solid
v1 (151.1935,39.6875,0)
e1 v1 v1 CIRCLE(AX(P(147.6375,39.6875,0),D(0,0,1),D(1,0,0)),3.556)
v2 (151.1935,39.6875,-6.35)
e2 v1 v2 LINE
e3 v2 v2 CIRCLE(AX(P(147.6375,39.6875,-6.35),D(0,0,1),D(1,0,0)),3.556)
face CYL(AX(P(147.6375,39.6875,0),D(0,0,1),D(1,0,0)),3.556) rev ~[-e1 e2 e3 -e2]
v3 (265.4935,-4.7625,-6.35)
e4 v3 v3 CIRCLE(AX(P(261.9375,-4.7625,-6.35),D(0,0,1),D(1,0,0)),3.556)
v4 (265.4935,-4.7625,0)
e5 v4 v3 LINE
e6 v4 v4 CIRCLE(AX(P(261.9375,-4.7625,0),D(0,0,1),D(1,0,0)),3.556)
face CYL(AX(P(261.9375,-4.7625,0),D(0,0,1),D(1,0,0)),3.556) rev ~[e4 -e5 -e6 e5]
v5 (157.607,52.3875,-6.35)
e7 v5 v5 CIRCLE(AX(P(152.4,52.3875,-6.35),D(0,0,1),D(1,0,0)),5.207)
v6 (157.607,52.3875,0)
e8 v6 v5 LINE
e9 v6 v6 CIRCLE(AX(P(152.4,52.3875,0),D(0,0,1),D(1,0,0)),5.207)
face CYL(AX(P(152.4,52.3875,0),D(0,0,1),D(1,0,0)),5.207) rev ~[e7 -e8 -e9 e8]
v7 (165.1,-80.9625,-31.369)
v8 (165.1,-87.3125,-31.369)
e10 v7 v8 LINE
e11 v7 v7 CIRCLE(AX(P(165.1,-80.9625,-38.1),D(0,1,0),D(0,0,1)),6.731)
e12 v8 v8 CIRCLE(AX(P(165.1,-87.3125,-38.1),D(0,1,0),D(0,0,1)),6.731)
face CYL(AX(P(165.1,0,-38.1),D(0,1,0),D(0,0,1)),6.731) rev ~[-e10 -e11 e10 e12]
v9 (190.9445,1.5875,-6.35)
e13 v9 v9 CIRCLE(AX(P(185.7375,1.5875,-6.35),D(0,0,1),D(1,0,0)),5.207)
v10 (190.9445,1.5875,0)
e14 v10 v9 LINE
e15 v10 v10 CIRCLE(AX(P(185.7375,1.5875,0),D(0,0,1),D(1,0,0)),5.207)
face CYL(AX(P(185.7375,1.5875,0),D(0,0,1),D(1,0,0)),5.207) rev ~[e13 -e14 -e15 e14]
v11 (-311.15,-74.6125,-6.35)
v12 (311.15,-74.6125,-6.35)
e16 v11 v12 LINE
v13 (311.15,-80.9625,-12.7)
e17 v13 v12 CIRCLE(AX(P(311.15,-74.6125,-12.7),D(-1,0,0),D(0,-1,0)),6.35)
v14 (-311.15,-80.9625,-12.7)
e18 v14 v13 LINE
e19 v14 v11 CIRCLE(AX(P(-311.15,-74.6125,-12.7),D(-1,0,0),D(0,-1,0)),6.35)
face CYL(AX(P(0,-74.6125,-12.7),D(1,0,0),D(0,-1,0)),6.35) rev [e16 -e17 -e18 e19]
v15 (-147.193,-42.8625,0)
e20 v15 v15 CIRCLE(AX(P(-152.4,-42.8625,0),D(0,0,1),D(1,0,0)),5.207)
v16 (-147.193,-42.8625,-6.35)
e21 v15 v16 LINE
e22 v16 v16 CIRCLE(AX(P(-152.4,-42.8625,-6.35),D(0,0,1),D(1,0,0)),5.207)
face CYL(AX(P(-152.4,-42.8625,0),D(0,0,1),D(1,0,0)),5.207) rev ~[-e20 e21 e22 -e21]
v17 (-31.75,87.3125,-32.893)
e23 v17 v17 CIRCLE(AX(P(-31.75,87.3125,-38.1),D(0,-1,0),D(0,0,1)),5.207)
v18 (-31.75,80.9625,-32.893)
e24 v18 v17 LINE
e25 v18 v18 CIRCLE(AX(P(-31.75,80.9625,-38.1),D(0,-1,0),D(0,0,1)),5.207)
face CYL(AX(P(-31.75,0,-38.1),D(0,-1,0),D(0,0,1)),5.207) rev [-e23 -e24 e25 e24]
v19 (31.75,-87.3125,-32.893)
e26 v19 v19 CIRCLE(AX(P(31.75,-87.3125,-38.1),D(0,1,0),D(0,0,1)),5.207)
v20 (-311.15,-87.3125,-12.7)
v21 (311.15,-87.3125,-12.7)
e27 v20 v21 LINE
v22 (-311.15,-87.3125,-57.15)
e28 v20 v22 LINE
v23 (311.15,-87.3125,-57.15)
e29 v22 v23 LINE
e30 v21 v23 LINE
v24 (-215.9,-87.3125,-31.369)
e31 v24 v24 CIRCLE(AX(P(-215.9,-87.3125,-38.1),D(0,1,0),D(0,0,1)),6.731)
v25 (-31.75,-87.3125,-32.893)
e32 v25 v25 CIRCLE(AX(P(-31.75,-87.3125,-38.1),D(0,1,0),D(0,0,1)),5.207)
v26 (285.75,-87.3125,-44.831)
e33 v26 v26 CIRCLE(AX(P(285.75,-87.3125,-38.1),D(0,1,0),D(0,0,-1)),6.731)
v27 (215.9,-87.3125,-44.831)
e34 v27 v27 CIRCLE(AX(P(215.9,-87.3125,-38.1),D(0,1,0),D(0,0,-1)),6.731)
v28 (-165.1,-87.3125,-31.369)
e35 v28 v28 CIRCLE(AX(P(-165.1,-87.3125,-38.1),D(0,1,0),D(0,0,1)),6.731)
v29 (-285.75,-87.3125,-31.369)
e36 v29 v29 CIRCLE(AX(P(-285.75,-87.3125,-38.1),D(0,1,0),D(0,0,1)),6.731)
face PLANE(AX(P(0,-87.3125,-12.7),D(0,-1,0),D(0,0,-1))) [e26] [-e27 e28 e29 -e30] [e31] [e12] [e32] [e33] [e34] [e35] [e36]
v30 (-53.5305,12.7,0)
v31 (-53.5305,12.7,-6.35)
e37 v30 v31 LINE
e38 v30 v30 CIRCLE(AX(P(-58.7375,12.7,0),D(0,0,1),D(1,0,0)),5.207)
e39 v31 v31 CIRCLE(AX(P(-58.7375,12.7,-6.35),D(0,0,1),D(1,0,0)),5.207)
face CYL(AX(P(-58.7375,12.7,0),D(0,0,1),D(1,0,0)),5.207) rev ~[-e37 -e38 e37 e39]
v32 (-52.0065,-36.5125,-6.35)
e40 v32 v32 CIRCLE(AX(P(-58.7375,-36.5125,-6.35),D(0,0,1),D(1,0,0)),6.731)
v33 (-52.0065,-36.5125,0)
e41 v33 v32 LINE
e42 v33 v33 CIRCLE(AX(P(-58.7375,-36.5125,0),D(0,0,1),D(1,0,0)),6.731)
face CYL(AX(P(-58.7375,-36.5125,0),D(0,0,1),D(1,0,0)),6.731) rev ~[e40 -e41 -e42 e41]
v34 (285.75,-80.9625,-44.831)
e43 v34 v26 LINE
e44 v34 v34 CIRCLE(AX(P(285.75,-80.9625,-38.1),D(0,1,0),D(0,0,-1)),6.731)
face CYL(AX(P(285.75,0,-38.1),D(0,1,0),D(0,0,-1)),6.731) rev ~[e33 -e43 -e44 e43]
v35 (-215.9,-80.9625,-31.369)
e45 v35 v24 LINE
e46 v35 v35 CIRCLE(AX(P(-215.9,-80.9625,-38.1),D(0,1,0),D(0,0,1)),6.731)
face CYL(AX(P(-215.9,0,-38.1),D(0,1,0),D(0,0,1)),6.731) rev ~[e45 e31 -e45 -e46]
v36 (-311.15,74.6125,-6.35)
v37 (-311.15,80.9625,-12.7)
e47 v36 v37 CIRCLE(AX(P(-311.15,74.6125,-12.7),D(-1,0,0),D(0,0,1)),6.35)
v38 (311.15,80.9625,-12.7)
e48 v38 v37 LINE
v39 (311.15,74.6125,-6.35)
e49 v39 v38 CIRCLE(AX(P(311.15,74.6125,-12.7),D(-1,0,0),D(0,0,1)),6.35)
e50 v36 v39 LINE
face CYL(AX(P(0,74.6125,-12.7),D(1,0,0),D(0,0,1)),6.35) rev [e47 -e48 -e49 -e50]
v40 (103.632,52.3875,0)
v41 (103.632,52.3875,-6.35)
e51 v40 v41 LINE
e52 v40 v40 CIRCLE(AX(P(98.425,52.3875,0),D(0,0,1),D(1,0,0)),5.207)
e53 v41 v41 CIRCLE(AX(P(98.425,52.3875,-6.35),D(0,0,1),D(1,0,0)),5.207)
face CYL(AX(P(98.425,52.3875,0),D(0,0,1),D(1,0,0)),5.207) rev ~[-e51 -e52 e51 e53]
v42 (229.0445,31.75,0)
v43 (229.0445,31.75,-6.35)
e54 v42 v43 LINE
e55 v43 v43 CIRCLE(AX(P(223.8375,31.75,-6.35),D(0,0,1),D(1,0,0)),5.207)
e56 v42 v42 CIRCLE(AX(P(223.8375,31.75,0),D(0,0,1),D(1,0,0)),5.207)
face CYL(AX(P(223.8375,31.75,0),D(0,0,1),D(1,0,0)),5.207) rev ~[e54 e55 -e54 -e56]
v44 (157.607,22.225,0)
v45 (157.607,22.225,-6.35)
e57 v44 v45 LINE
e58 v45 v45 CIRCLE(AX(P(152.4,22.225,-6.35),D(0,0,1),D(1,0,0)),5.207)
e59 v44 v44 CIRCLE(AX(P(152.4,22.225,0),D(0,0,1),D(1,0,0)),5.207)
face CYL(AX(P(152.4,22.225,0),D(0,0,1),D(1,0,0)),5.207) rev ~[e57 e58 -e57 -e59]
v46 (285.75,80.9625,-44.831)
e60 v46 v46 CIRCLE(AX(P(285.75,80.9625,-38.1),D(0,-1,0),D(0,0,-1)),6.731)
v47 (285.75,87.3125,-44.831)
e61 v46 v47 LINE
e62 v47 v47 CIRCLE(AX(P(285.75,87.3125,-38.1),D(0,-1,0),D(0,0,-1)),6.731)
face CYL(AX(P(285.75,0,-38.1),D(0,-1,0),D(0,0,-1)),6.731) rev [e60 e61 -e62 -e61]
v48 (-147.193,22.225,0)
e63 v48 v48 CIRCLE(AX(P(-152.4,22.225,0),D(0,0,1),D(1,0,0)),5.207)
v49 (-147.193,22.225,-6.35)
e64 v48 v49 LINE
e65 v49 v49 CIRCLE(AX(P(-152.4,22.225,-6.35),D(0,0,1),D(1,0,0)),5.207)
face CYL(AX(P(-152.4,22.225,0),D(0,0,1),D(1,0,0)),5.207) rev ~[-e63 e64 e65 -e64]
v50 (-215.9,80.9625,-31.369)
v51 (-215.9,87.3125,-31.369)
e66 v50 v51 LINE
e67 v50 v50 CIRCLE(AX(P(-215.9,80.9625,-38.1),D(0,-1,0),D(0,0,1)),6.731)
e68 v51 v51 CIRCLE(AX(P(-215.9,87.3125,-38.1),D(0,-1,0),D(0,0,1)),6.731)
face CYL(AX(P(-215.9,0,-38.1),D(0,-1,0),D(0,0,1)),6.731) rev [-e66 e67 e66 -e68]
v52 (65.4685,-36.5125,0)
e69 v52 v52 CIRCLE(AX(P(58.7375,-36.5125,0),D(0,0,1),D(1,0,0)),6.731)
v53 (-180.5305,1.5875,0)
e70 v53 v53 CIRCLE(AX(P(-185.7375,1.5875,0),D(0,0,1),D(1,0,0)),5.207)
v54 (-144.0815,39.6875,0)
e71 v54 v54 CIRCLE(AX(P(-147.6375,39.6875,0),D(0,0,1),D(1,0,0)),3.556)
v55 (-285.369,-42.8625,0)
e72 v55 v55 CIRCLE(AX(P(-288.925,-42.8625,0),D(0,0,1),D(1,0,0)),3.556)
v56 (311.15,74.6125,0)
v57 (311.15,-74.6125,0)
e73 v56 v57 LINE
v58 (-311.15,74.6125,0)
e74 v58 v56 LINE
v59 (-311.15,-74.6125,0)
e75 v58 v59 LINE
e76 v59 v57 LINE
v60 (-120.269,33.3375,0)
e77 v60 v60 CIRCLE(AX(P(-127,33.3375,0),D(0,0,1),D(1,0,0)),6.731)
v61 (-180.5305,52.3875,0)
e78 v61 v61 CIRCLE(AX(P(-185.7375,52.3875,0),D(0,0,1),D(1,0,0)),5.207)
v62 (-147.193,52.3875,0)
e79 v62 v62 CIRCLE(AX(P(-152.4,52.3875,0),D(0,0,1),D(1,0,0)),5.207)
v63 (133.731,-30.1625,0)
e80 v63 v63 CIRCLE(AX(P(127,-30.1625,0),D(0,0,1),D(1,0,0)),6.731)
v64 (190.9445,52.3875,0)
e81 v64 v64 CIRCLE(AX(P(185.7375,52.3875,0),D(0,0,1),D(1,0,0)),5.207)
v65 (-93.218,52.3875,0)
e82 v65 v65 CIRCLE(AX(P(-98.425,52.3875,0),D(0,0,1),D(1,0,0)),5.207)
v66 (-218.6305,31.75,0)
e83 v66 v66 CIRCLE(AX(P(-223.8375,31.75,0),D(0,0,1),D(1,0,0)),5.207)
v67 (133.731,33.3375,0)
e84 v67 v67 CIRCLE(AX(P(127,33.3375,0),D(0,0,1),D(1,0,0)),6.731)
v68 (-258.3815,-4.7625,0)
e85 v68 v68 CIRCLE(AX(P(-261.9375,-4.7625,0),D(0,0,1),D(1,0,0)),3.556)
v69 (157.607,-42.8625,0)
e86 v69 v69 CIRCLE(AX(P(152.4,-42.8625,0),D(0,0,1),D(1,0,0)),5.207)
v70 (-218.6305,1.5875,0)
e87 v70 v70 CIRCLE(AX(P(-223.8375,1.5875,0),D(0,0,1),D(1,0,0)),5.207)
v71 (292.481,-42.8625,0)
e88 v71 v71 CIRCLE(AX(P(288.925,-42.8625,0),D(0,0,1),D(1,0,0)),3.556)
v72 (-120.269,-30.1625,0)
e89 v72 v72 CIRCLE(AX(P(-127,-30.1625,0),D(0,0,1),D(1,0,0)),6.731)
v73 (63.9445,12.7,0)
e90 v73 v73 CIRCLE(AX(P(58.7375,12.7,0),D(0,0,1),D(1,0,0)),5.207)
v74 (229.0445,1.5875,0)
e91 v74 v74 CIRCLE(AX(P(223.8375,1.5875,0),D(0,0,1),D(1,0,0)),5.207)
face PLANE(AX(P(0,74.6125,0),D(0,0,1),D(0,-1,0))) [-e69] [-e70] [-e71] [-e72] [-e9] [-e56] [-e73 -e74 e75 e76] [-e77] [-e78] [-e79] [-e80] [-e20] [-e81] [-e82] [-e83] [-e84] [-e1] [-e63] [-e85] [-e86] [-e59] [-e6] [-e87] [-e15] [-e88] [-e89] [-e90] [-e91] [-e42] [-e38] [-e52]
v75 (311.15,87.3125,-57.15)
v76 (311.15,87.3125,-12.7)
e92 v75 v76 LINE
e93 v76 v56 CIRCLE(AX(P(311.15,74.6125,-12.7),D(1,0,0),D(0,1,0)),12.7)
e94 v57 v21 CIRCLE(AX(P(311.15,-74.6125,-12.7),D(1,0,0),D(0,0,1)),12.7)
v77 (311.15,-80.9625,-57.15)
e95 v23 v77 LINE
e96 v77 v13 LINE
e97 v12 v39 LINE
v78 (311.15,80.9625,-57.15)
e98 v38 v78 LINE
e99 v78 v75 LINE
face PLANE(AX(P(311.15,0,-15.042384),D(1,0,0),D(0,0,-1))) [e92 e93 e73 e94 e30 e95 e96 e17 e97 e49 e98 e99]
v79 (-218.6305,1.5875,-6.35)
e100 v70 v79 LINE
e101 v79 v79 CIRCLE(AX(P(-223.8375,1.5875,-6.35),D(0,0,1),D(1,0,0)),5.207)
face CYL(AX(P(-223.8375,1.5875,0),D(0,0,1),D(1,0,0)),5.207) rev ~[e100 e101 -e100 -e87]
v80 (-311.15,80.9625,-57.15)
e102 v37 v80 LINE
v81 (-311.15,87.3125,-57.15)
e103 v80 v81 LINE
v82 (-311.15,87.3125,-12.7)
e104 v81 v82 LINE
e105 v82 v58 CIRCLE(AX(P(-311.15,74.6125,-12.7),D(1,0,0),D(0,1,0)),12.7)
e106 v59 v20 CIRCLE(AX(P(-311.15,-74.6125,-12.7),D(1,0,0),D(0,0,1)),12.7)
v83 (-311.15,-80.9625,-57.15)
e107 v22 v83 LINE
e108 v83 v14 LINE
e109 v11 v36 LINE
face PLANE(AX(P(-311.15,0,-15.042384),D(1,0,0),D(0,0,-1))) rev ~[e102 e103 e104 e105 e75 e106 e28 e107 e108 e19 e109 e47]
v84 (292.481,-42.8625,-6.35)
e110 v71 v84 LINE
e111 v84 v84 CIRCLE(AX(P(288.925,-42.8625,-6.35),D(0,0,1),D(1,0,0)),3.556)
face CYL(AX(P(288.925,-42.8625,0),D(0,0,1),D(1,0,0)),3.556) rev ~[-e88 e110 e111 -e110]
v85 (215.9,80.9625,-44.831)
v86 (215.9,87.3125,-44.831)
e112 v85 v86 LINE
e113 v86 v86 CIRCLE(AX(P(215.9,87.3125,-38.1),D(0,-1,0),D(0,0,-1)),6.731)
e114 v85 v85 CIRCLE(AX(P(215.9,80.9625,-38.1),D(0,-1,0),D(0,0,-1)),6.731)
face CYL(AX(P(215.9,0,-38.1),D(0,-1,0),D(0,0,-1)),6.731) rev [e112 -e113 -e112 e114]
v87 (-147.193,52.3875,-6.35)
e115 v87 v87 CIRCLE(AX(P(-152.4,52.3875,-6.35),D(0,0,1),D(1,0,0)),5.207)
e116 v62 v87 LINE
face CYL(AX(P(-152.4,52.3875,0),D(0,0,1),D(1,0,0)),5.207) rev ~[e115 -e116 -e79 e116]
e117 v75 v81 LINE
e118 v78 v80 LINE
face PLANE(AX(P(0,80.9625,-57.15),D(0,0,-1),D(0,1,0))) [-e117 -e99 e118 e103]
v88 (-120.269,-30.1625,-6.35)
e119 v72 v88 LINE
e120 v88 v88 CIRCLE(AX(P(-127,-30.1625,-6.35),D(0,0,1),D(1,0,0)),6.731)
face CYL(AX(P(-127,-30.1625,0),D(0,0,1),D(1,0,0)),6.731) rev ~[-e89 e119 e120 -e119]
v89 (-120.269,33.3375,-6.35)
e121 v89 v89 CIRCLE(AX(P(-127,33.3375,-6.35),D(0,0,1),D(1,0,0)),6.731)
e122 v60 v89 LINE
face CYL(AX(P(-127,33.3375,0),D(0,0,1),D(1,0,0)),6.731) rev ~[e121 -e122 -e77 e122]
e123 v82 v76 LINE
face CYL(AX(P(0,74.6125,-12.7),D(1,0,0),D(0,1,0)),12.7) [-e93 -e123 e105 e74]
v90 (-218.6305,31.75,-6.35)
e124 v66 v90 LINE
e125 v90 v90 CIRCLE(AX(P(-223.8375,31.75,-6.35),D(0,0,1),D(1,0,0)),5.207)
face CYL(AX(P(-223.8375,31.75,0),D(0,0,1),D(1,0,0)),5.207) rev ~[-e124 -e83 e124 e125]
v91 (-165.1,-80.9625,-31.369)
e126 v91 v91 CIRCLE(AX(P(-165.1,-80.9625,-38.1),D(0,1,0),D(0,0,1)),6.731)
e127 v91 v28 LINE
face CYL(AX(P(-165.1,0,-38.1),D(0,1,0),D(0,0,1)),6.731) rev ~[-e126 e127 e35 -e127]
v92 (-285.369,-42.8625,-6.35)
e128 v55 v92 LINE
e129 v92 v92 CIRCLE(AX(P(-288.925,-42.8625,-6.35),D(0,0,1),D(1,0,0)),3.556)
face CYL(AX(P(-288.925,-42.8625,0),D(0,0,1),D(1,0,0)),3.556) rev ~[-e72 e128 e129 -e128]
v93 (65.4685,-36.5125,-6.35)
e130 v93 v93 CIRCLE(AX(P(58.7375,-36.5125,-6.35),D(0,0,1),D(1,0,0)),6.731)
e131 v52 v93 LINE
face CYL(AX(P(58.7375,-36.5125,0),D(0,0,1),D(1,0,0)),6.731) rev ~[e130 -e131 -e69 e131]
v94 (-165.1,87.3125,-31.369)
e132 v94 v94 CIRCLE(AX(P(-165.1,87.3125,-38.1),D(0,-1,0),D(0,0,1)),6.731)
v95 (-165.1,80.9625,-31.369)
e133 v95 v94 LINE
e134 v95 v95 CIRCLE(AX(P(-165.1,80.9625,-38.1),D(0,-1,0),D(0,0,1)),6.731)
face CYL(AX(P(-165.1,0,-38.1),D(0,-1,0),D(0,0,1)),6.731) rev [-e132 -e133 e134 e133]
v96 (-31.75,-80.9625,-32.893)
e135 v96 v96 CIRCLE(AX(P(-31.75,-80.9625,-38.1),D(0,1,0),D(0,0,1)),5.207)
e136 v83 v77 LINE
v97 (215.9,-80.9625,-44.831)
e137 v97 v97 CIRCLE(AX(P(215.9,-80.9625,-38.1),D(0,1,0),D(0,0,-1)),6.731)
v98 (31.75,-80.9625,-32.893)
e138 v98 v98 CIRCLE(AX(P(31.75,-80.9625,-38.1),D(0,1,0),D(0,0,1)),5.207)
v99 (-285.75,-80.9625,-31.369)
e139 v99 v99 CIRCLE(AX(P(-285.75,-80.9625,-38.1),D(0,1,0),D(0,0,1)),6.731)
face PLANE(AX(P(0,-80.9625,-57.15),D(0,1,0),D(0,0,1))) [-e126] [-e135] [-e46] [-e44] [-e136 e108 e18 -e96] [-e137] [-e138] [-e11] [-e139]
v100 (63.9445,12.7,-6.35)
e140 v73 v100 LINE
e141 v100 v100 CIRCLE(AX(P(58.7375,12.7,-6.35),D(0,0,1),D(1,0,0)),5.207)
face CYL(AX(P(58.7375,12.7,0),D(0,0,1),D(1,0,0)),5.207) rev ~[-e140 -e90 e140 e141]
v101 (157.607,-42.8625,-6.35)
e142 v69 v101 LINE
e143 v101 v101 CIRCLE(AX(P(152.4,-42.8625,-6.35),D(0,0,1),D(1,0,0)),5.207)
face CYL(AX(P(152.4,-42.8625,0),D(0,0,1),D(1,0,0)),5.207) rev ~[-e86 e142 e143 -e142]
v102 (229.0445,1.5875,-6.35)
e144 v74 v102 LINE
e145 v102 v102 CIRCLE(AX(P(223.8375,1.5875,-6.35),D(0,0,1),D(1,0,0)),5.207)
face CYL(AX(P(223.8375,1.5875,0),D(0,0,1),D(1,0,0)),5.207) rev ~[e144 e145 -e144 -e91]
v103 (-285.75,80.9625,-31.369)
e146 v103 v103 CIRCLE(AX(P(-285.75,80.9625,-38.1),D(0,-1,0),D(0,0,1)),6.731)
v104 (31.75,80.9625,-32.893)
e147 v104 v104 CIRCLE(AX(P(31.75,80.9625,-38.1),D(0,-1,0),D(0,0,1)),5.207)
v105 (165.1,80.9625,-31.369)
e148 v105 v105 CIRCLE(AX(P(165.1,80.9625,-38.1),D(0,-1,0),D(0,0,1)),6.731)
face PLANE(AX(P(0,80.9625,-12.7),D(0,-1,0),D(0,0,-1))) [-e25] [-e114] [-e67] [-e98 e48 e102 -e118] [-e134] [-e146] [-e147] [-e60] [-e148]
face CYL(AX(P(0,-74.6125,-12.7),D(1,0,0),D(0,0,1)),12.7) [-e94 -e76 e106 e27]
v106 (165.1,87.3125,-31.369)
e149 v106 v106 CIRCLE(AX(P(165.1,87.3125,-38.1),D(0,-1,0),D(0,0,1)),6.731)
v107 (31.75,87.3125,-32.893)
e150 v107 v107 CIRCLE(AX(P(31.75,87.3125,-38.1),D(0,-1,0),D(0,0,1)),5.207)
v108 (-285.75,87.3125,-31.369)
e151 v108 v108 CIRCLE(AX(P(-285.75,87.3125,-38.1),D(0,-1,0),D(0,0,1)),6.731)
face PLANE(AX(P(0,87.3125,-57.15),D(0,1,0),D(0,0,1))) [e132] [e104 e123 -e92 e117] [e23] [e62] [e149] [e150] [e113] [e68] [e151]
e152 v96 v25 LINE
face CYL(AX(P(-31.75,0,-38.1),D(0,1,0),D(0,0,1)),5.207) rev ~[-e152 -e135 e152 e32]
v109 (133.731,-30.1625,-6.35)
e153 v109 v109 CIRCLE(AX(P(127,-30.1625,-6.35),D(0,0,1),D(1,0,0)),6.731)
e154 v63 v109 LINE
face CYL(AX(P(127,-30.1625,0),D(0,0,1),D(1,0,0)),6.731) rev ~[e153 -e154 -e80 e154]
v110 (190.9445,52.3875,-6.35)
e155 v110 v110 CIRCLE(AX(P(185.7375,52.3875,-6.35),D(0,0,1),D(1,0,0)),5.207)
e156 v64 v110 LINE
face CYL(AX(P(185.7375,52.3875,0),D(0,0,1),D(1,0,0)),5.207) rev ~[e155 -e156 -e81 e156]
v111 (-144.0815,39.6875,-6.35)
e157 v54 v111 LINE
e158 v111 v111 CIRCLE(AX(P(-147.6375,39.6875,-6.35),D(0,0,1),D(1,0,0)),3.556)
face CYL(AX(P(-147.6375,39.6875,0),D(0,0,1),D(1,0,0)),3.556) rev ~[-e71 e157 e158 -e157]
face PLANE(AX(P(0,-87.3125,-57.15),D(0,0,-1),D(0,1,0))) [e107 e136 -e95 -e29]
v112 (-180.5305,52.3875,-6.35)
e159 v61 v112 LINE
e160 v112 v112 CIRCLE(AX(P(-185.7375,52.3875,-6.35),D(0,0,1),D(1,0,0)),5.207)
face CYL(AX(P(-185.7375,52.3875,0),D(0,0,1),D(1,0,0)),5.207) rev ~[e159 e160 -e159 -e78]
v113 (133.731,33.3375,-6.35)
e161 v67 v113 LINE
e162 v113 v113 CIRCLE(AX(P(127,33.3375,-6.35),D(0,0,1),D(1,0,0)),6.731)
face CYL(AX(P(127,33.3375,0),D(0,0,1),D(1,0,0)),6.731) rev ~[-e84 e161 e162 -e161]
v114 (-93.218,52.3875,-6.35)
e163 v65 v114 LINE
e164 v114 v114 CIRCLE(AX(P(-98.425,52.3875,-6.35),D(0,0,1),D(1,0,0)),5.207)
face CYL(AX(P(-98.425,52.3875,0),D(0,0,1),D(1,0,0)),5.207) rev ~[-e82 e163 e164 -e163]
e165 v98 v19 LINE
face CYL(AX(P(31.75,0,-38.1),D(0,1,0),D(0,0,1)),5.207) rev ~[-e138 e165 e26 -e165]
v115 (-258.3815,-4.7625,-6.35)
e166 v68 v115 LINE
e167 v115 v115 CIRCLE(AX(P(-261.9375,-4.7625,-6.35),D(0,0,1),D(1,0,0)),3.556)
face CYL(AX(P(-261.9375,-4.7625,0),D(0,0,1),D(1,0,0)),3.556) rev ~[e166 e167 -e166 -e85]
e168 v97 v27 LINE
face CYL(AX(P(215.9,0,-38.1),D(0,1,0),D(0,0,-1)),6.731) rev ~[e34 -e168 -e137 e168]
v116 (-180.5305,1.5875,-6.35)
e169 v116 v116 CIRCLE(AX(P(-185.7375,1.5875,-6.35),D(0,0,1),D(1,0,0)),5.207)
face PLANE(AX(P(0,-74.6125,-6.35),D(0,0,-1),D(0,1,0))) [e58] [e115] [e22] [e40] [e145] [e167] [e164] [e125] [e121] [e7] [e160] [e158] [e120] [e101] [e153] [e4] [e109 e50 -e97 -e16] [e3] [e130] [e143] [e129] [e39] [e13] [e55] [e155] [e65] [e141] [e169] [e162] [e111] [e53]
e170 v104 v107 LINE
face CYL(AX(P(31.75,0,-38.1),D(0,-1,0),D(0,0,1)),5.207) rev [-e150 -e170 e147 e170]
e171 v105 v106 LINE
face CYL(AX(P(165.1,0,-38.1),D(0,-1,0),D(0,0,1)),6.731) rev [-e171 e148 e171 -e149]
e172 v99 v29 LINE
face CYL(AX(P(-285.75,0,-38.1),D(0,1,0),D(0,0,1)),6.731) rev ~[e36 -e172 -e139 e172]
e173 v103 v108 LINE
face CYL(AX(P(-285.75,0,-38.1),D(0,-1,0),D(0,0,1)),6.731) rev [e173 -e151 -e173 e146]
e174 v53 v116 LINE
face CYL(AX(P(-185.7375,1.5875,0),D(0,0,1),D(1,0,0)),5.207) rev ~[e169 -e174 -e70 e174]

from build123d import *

# Parameters (mm, degrees)
EXTRUDE1_DEPTH           = 311.15
SKETCH2_R                = 5.207
SKETCH2_R_2              = 3.556
SKETCH2_R_3              = 6.731
CUT_WEB_HOLES_DEPTH      = 329.182750394
SKETCH3_R                = 6.731
SKETCH3_R_2              = 5.207
CUT_FLG_HOLES_DEPTH      = 329.182750394
CUT_FLG_HOLES_DEPTH_BACK = 329.182750394
SKETCH6_R                = 5.207
VLV_MODULATOR_DEPTH      = 329.182750394


with BuildPart() as part:
    # Sketch1 → Extrude1 (new, symmetric)
    with BuildSketch(Plane(origin=(0, 0, 0), x_dir=(0, 0, -1), z_dir=(1, 0, 0))):
        with BuildLine():
            Line((57.15, 87.3125), (12.7, 87.3125))
            ThreePointArc((12.7, 87.3125), (3.719743879, 83.592756121), (0, 74.6125))
            Line((0, 74.6125), (0, -74.6125))
            ThreePointArc((0, -74.6125), (3.719743879, -83.592756121), (12.7, -87.3125))
            Line((12.7, -87.3125), (57.15, -87.3125))
            Line((57.15, -87.3125), (57.15, -80.9625))
            Line((57.15, -80.9625), (12.7, -80.9625))
            ThreePointArc((12.7, -80.9625), (8.209871939, -79.102628061), (6.35, -74.6125))
            Line((6.35, -74.6125), (6.35, 74.6125))
            ThreePointArc((6.35, 74.6125), (8.209871939, 79.102628061), (12.7, 80.9625))
            Line((12.7, 80.9625), (57.15, 80.9625))
            Line((57.15, 80.9625), (57.15, 87.3125))
        make_face()
    extrude(amount=EXTRUDE1_DEPTH, both=True)

    # Sketch2 → Cut-Web Holes (cut, through all)
    with BuildSketch(Plane.XY):
        with Locations((-185.7375, 52.3875)):
            Circle(SKETCH2_R)
        with Locations((-261.9375, -4.7625)):
            Circle(SKETCH2_R_2)
        with Locations((-288.925, -42.8625)):
            Circle(SKETCH2_R_2)
        with Locations((-152.4, -42.8625)):
            Circle(SKETCH2_R)
        with Locations((-127, -30.1625)):
            Circle(SKETCH2_R_3)
        with Locations((-127, 33.3375)):
            Circle(SKETCH2_R_3)
        with Locations((-98.425, 52.3875)):
            Circle(SKETCH2_R)
        with Locations((-58.7375, 12.7)):
            Circle(SKETCH2_R)
        with Locations((-58.7375, -36.5125)):
            Circle(SKETCH2_R_3)
        with Locations((-185.7375, 1.5875)):
            Circle(SKETCH2_R)
        with Locations((-147.6375, 39.6875)):
            Circle(SKETCH2_R_2)
        with Locations((147.6375, 39.6875)):
            Circle(SKETCH2_R_2)
        with Locations((98.425, 52.3875)):
            Circle(SKETCH2_R)
        with Locations((127, 33.3375)):
            Circle(SKETCH2_R_3)
        with Locations((185.7375, 52.3875)):
            Circle(SKETCH2_R)
        with Locations((185.7375, 1.5875)):
            Circle(SKETCH2_R)
        with Locations((261.9375, -4.7625)):
            Circle(SKETCH2_R_2)
        with Locations((288.925, -42.8625)):
            Circle(SKETCH2_R_2)
        with Locations((152.4, -42.8625)):
            Circle(SKETCH2_R)
        with Locations((127, -30.1625)):
            Circle(SKETCH2_R_3)
        with Locations((58.7375, 12.7)):
            Circle(SKETCH2_R)
        with Locations((58.7375, -36.5125)):
            Circle(SKETCH2_R_3)
    extrude(amount=-CUT_WEB_HOLES_DEPTH, mode=Mode.SUBTRACT)

    # Sketch3 → Cut-Flg Holes (cut, two sides)
    with BuildSketch(Plane(origin=(0, 0, 0), x_dir=(1, 0, 0), z_dir=(0, 1, 0))) as cut_flg_holes_sk:
        with Locations(Location((-285.75, 38.1, 0), (0, 0, 270))):
            Circle(SKETCH3_R)
        with Locations(Location((-215.9, 38.1, 0), (0, 0, 270))):
            Circle(SKETCH3_R)
        with Locations(Location((285.75, 38.1, 0), (0, 0, 90))):
            Circle(SKETCH3_R)
        with Locations(Location((215.9, 38.1, 0), (0, 0, 90))):
            Circle(SKETCH3_R)
        with Locations(Location((165.1, 38.1, 0), (0, 0, 270))):
            Circle(SKETCH3_R)
        with Locations(Location((31.75, 38.1, 0), (0, 0, 270))):
            Circle(SKETCH3_R_2)
        with Locations(Location((-31.75, 38.1, 0), (0, 0, 270))):
            Circle(SKETCH3_R_2)
        with Locations(Location((-165.1, 38.1, 0), (0, 0, 270))):
            Circle(SKETCH3_R)
    extrude(amount=CUT_FLG_HOLES_DEPTH, mode=Mode.SUBTRACT)
    extrude(cut_flg_holes_sk.sketch, amount=-CUT_FLG_HOLES_DEPTH_BACK, mode=Mode.SUBTRACT)

    # Sketch6 → VLV-MODULATOR (cut, through all)
    with BuildSketch(Plane.XY):
        with Locations((-152.4, 52.3875)):
            Circle(SKETCH6_R)
        with Locations((-223.8375, 31.75)):
            Circle(SKETCH6_R)
        with Locations((-152.4, 22.225)):
            Circle(SKETCH6_R)
        with Locations((-223.8375, 1.5875)):
            Circle(SKETCH6_R)
        with Locations((223.8375, 1.5875)):
            Circle(SKETCH6_R)
        with Locations((152.4, 22.225)):
            Circle(SKETCH6_R)
        with Locations((152.4, 52.3875)):
            Circle(SKETCH6_R)
        with Locations((223.8375, 31.75)):
            Circle(SKETCH6_R)
    extrude(amount=-VLV_MODULATOR_DEPTH, mode=Mode.SUBTRACT)


solid = part.part
